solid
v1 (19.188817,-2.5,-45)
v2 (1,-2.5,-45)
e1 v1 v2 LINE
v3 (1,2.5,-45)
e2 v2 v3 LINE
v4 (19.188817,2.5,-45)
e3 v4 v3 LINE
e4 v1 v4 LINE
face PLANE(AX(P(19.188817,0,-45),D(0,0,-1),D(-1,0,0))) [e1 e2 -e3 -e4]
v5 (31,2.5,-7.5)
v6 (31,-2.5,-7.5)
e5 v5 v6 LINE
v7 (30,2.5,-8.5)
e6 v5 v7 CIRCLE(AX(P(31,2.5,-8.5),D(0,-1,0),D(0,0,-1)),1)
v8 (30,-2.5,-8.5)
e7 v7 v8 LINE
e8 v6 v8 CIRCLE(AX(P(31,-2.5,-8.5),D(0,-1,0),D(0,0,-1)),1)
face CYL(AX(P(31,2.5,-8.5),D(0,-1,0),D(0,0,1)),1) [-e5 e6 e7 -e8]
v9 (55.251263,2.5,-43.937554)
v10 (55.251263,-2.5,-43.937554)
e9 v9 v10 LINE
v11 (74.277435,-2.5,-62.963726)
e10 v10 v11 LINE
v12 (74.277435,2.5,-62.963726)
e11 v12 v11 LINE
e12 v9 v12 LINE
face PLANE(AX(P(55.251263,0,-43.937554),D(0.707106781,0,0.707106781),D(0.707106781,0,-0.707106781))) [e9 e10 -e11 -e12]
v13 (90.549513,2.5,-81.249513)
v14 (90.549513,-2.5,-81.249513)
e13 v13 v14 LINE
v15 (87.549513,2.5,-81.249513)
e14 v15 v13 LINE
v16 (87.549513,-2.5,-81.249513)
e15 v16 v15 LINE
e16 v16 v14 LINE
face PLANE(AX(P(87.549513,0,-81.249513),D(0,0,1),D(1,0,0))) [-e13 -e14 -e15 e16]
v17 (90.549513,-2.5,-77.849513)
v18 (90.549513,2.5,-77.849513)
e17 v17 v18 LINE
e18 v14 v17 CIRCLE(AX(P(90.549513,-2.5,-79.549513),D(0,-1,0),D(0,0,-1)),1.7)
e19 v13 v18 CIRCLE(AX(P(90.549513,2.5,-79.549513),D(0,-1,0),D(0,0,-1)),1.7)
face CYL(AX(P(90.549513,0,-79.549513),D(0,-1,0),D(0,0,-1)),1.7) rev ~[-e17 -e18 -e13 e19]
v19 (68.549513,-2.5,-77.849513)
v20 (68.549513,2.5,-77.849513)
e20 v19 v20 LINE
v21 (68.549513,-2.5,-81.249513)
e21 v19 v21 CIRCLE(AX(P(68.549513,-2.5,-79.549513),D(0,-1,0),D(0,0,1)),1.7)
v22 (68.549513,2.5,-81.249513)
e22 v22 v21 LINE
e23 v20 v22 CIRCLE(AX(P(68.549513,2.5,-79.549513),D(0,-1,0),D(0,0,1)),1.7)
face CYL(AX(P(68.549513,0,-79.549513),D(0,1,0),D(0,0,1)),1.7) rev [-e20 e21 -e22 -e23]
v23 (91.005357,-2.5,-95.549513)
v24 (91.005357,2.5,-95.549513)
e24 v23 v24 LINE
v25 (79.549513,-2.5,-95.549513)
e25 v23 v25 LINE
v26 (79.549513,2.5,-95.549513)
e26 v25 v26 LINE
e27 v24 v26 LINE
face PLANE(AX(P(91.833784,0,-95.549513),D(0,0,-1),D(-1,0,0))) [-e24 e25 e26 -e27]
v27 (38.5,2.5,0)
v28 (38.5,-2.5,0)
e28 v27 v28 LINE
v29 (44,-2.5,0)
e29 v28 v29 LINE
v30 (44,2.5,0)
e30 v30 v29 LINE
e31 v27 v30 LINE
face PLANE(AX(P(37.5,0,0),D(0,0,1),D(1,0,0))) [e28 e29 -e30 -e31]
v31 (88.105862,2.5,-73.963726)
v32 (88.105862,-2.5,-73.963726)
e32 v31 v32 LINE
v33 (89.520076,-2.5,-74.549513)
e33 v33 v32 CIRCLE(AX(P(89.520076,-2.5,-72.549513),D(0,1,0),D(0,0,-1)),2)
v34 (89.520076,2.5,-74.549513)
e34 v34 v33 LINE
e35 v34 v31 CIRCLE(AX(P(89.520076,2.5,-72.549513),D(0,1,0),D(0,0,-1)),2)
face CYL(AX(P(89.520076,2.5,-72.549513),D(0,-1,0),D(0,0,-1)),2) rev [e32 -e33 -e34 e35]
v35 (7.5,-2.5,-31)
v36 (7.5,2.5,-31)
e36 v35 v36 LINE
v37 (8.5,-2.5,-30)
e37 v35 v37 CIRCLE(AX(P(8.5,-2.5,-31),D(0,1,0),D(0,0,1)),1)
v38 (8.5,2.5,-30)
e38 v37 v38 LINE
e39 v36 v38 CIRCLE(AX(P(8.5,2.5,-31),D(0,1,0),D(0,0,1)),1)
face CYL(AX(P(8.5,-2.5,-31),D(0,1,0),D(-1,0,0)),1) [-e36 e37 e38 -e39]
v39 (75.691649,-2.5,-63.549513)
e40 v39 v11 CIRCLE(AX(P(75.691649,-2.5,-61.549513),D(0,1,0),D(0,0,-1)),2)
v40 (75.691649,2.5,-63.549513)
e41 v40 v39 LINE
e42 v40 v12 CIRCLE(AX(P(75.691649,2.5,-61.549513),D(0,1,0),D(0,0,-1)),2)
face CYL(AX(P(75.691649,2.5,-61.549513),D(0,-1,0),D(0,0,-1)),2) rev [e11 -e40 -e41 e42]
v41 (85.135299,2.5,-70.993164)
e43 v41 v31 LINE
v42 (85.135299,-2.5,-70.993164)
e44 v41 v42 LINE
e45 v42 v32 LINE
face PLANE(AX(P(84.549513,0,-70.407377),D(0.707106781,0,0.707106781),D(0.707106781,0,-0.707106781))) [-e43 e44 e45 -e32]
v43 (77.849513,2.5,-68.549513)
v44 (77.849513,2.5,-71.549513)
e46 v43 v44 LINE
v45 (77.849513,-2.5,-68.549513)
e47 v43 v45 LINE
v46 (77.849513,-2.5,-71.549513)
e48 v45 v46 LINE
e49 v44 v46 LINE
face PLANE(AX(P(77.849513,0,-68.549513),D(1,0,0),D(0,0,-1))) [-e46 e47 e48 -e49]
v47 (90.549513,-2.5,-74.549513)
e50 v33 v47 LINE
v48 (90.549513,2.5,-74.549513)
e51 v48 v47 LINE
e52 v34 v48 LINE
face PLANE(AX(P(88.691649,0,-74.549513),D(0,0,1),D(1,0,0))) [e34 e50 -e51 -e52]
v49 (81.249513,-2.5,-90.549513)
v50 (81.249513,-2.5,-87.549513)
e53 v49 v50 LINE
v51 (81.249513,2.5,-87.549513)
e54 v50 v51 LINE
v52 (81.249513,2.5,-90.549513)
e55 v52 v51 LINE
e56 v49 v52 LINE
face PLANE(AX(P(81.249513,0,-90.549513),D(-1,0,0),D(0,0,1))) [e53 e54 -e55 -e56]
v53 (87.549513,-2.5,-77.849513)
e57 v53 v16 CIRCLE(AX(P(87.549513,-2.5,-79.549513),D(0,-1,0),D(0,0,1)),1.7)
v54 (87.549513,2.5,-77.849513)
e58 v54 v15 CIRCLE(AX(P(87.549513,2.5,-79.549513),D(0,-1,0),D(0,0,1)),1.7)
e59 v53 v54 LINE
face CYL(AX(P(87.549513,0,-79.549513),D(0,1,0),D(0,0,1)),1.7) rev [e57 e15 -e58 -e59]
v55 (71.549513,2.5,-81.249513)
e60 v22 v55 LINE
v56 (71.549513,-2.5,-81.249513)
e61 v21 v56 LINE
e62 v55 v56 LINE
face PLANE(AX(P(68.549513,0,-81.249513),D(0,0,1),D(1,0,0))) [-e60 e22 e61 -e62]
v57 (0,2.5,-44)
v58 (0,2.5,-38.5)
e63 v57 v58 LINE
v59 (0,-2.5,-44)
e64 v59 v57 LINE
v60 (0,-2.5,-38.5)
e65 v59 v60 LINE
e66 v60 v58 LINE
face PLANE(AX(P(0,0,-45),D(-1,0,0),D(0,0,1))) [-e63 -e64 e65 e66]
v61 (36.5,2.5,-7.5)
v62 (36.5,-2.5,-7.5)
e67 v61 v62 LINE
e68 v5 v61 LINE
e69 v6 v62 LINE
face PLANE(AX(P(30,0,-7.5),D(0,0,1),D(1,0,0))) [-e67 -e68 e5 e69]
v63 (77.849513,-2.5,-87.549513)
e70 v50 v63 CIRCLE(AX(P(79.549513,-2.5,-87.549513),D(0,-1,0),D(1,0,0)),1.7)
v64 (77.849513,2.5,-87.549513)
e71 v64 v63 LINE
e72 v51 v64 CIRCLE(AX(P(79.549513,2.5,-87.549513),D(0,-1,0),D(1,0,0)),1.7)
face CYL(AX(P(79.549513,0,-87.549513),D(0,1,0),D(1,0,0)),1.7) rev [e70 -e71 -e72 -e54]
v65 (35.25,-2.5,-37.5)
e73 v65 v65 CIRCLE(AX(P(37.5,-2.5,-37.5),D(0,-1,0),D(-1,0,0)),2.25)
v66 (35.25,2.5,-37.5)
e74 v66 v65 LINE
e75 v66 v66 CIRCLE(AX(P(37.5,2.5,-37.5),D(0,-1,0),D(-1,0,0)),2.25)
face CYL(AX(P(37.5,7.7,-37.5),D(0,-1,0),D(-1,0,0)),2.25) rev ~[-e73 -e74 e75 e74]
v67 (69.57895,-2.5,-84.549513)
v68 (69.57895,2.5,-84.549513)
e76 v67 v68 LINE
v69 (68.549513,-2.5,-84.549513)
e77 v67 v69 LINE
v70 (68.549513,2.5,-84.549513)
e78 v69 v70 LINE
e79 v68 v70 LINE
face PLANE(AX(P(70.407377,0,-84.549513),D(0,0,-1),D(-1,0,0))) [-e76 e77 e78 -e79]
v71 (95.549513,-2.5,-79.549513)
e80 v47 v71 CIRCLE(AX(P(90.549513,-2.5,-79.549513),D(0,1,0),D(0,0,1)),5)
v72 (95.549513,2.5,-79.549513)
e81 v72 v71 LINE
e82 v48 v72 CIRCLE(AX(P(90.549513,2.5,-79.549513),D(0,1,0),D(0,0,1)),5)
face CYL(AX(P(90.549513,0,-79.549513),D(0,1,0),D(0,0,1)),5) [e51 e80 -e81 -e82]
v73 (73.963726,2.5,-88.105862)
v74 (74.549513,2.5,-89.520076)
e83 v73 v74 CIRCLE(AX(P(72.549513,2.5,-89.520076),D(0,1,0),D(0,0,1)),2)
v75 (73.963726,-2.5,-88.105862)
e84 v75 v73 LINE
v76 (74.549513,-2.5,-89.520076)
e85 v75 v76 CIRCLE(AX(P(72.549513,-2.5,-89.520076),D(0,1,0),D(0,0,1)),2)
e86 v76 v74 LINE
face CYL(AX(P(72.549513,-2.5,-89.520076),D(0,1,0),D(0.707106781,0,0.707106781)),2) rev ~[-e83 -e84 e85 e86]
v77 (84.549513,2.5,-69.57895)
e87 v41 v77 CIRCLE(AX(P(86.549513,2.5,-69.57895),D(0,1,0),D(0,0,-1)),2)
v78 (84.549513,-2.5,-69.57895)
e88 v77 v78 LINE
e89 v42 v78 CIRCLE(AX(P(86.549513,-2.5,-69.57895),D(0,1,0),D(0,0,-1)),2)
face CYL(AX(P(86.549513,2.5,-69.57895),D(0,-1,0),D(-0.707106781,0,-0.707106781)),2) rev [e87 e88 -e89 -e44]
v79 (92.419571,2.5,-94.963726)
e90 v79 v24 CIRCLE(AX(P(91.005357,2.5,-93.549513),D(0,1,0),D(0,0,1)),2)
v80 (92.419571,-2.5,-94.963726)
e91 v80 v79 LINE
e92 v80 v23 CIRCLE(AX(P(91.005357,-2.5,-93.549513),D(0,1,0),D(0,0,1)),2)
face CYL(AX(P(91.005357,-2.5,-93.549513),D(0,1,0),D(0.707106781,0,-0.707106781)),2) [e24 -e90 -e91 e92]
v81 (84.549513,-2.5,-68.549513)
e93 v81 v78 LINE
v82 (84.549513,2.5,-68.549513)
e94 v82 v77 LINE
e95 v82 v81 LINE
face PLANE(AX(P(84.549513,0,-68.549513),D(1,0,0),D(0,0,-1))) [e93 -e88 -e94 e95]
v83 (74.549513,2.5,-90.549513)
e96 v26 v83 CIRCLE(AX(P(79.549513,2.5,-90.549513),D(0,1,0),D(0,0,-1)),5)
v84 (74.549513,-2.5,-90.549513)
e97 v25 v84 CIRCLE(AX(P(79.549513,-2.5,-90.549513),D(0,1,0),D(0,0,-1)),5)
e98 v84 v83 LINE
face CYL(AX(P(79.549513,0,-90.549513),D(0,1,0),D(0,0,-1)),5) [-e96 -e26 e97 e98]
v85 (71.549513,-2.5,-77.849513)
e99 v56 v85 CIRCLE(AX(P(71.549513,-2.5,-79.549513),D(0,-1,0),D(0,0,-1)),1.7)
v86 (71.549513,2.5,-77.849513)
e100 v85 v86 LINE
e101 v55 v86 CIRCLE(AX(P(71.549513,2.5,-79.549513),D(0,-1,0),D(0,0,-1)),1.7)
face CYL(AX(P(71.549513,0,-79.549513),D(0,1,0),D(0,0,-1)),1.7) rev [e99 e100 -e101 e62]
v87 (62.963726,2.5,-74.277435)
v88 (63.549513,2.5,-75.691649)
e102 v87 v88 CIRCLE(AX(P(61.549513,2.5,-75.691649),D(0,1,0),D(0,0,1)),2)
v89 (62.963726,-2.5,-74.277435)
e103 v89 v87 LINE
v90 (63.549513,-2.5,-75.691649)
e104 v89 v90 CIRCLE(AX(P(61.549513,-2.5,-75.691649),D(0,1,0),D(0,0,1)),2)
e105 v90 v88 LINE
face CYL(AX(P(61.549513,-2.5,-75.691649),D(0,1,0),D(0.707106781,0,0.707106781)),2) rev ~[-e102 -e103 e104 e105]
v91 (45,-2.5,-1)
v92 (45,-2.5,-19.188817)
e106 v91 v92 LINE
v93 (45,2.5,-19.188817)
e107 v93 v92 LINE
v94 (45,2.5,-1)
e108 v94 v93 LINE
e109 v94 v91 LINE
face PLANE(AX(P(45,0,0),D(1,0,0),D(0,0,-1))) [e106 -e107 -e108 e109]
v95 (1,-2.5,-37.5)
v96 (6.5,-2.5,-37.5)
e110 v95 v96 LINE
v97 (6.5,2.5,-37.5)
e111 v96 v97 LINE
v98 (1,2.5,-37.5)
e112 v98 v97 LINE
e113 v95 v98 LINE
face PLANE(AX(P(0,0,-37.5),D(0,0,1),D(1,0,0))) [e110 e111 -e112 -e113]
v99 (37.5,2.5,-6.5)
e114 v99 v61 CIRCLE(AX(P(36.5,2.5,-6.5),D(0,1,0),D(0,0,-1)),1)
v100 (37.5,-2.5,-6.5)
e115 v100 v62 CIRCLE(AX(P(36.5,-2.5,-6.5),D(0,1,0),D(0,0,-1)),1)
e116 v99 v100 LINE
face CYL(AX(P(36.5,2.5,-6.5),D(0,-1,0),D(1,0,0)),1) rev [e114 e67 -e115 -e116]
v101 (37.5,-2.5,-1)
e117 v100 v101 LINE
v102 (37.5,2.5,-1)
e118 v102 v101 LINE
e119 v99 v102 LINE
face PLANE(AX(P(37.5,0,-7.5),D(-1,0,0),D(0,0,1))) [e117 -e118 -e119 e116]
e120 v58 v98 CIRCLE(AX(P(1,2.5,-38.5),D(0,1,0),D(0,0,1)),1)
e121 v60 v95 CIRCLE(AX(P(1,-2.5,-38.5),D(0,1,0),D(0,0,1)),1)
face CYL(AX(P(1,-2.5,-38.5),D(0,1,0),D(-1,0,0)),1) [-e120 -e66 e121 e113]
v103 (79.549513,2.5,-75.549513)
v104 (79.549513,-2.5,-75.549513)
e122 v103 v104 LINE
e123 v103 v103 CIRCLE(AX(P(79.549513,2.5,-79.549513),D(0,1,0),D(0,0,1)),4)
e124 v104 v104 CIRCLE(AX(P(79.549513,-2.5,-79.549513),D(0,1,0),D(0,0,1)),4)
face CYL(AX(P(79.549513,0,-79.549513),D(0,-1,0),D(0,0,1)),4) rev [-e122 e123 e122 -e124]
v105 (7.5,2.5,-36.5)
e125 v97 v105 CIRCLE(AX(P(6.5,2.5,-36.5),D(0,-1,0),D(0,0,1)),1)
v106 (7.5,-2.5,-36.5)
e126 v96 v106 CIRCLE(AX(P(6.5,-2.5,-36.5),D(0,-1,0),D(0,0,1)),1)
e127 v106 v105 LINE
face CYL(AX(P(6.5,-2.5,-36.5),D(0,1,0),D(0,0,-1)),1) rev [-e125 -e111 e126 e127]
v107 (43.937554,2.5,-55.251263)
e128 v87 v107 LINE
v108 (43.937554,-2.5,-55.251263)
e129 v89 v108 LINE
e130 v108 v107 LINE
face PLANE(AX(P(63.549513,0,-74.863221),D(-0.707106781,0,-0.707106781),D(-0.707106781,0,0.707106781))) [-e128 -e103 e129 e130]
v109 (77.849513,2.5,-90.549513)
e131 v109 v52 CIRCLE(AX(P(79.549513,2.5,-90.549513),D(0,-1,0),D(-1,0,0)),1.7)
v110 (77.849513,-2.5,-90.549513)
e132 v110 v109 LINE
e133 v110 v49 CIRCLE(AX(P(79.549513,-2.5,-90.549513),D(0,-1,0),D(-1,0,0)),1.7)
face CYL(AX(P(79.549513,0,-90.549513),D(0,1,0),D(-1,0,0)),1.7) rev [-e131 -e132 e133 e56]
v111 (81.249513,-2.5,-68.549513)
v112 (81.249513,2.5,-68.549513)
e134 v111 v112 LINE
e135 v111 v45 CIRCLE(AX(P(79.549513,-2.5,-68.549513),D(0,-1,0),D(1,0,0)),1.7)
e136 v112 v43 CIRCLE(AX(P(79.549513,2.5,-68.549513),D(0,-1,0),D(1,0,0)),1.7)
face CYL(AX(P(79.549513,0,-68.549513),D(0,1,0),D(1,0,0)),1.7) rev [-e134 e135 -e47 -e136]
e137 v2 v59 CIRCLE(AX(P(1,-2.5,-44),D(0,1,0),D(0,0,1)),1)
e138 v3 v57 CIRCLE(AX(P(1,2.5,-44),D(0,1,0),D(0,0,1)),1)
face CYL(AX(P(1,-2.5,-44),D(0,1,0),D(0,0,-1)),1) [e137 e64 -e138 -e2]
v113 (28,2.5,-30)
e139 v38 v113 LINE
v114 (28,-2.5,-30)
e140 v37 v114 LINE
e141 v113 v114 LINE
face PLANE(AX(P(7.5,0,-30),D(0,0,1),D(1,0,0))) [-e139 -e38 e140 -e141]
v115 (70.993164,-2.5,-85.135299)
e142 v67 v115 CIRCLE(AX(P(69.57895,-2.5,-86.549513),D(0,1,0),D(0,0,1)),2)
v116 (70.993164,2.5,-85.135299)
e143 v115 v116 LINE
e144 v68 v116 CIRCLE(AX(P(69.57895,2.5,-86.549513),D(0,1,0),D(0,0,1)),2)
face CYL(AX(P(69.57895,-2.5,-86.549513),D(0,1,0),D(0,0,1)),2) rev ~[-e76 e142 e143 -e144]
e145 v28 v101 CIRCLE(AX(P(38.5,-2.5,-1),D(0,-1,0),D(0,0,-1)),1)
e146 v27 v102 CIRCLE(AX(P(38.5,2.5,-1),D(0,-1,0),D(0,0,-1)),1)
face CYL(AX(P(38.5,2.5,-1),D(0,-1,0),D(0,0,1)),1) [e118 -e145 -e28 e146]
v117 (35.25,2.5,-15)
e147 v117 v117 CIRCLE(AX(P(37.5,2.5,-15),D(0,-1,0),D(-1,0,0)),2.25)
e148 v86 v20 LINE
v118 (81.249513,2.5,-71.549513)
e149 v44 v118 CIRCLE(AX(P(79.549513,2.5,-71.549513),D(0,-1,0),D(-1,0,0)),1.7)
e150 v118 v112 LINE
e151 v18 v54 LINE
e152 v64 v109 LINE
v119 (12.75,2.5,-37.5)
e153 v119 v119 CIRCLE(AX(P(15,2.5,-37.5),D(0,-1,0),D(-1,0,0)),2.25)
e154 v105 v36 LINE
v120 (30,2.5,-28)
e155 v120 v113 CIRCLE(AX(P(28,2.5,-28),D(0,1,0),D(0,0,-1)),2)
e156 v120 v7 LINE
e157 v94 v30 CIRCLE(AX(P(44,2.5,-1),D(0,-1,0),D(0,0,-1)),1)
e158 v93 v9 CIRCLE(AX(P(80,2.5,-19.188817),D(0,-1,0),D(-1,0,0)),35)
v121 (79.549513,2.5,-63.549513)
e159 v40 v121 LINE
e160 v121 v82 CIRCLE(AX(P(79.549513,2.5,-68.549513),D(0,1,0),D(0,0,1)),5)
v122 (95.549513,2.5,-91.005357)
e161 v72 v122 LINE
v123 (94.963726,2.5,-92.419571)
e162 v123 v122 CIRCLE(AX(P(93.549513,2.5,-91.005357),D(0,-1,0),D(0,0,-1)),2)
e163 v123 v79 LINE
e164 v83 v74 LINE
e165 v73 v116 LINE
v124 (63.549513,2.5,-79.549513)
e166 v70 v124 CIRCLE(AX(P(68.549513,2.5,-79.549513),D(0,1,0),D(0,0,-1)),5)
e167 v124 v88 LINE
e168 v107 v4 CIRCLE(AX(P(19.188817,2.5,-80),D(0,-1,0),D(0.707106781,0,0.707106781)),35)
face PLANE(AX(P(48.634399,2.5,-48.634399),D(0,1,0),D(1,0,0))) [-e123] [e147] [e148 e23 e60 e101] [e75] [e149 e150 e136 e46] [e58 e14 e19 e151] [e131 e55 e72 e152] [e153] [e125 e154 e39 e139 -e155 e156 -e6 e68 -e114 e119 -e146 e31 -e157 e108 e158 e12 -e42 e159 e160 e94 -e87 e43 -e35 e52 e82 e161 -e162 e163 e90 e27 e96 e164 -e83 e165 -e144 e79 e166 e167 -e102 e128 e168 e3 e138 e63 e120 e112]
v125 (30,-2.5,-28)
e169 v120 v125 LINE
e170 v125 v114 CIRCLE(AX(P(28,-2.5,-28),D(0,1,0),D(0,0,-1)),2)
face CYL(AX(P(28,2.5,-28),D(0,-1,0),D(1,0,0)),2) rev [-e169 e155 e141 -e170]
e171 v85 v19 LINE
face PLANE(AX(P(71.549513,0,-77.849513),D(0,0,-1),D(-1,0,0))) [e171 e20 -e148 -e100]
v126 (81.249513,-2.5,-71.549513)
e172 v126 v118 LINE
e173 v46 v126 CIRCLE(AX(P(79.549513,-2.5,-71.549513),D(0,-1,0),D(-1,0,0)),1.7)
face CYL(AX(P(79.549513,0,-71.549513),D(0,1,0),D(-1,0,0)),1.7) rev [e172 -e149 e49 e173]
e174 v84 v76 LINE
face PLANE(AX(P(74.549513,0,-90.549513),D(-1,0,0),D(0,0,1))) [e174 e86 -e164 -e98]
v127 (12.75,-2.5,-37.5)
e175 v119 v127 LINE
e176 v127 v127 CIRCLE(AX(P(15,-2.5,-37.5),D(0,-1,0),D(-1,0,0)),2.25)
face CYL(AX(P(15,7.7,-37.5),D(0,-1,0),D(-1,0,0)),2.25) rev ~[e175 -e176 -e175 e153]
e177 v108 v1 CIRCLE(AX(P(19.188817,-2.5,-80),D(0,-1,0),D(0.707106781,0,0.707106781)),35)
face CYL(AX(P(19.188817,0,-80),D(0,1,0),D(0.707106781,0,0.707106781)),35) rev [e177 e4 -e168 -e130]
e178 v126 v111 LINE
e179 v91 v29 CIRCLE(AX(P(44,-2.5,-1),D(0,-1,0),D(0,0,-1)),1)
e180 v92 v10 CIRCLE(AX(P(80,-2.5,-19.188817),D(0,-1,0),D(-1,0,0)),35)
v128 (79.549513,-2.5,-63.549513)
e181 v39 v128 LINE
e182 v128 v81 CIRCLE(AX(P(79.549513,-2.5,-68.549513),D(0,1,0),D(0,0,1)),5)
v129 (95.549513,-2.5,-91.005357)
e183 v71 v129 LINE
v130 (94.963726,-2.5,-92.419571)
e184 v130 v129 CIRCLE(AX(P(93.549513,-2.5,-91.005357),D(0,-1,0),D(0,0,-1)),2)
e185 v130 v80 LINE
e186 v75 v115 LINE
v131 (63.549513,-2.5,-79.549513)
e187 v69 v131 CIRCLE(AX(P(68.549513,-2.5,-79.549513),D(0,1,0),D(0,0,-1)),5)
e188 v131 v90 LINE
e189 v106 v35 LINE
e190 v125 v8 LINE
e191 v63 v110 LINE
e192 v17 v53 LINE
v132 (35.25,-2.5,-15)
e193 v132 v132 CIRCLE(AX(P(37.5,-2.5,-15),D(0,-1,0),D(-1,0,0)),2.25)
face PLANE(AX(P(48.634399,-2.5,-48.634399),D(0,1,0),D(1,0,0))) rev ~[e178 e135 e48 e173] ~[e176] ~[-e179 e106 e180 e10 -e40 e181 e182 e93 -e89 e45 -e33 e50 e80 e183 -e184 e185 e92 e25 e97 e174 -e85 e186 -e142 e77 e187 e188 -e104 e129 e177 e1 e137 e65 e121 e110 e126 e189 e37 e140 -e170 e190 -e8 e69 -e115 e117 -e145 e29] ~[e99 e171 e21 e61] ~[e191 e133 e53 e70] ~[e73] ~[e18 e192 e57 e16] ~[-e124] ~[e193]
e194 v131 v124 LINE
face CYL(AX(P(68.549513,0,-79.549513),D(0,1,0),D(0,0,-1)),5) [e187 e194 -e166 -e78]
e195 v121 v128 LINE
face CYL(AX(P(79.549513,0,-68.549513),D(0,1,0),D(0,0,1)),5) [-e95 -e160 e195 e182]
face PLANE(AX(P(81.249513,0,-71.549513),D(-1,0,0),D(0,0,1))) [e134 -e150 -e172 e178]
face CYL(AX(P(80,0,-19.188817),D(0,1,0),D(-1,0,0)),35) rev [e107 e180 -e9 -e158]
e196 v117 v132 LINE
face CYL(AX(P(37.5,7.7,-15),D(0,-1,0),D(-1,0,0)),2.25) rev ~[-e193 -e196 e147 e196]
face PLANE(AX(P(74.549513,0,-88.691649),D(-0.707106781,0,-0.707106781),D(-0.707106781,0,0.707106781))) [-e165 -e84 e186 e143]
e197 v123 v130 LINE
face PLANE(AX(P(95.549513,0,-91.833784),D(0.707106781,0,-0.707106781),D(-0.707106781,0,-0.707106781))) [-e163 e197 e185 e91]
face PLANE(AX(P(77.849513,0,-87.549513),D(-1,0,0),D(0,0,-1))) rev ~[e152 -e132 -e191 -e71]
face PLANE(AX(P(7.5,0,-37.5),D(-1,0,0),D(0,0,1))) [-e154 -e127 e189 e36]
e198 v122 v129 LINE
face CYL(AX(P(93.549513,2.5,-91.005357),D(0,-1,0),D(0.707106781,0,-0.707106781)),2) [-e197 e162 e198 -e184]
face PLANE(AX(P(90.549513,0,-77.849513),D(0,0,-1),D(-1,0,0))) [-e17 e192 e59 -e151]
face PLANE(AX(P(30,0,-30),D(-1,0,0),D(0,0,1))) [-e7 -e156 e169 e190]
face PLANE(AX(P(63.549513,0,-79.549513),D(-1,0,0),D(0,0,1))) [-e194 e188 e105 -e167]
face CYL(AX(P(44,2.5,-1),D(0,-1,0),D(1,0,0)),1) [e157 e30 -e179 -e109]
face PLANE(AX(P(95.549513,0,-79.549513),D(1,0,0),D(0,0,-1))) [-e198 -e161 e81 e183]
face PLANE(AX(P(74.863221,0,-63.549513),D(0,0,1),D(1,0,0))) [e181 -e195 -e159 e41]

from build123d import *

# Parameters (mm, degrees)
SKETCH1_R                = 4
BOSS_EXTRUDE1_DEPTH      = 2.5
FILLET1_R                = 2
FILLET2_R                = 1
M4_CLEARANCE_HOLE1_D     = 4.5
M4_CLEARANCE_HOLE1_DEPTH = 5.2
M4_CLEARANCE_HOLE1_TIP   = 1.351936393


with BuildPart() as part:
    # Sketch1 → Boss-Extrude1 (new, symmetric)
    with BuildSketch(Plane(origin=(0, 0, 0), x_dir=(1, 0, 0), z_dir=(0, 1, 0))):
        with BuildLine():
            Line((95.549512883, 91.833784131), (91.833784131, 95.549512883))
            Line((91.833784131, 95.549512883), (79.549512883, 95.549512883))
            ThreePointArc((79.549512883, 95.549512883), (76.013978978, 94.085046789), (74.549512883, 90.549512883))
            Line((74.549512883, 90.549512883), (74.549512883, 88.691648507))
            Line((74.549512883, 88.691648507), (70.40737726, 84.549512883))
            Line((70.40737726, 84.549512883), (68.549512883, 84.549512883))
            ThreePointArc((68.549512883, 84.549512883), (65.013978978, 83.085046789), (63.549512883, 79.549512883))
            Line((63.549512883, 79.549512883), (63.549512883, 74.863221382))
            Line((63.549512883, 74.863221382), (43.937554159, 55.251262658))
            ThreePointArc((43.937554159, 55.251262658), (32.582736951, 47.664216362), (19.188816818, 45))
            Line((19.188816818, 45), (0, 45))
            Line((0, 45), (0, 37.5))
            Line((0, 37.5), (7.5, 37.5))
            Line((7.5, 37.5), (7.5, 30))
            Line((7.5, 30), (30, 30))
            Line((30, 30), (30, 7.5))
            Line((30, 7.5), (37.5, 7.5))
            Line((37.5, 7.5), (37.5, 0))
            Line((37.5, 0), (45, 0))
            Line((45, 0), (45, 19.188816818))
            ThreePointArc((45, 19.188816818), (47.664216362, 32.582736951), (55.251262658, 43.937554159))
            Line((55.251262658, 43.937554159), (74.863221382, 63.549512883))
            Line((74.863221382, 63.549512883), (79.549512883, 63.549512883))
            ThreePointArc((79.549512883, 63.549512883), (83.085046789, 65.013978978), (84.549512883, 68.549512883))
            Line((84.549512883, 68.549512883), (84.549512883, 70.40737726))
            Line((84.549512883, 70.40737726), (88.691648507, 74.549512883))
            Line((88.691648507, 74.549512883), (90.549512883, 74.549512883))
            ThreePointArc((90.549512883, 74.549512883), (94.085046789, 76.013978978), (95.549512883, 79.549512883))
            Line((95.549512883, 79.549512883), (95.549512883, 91.833784131))
        make_face()
        with Locations(Location((79.549512883, 79.549512883, 0), (0, 0, 270))):
            Circle(SKETCH1_R, mode=Mode.SUBTRACT)
        with BuildLine():
            Line((87.549512883, 81.249512883), (90.549512883, 81.249512883))
            ThreePointArc((90.549512883, 81.249512883), (92.249512883, 79.549512883), (90.549512883, 77.849512883))
            Line((90.549512883, 77.849512883), (87.549512883, 77.849512883))
            ThreePointArc((87.549512883, 77.849512883), (85.849512883, 79.549512883), (87.549512883, 81.249512883))
        make_face(mode=Mode.SUBTRACT)
        with BuildLine():
            Line((81.249512883, 71.549512883), (81.249512883, 68.549512883))
            ThreePointArc((81.249512883, 68.549512883), (79.549512883, 66.849512883), (77.849512883, 68.549512883))
            Line((77.849512883, 68.549512883), (77.849512883, 71.549512883))
            ThreePointArc((77.849512883, 71.549512883), (79.549512883, 73.249512883), (81.249512883, 71.549512883))
        make_face(mode=Mode.SUBTRACT)
        with BuildLine():
            Line((71.549512883, 77.849512883), (68.549512883, 77.849512883))
            ThreePointArc((68.549512883, 77.849512883), (66.849512883, 79.549512883), (68.549512883, 81.249512883))
            Line((68.549512883, 81.249512883), (71.549512883, 81.249512883))
            ThreePointArc((71.549512883, 81.249512883), (73.249512883, 79.549512883), (71.549512883, 77.849512883))
        make_face(mode=Mode.SUBTRACT)
        with BuildLine():
            Line((77.849512883, 87.549512883), (77.849512883, 90.549512883))
            ThreePointArc((77.849512883, 90.549512883), (79.549512883, 92.249512883), (81.249512883, 90.549512883))
            Line((81.249512883, 90.549512883), (81.249512883, 87.549512883))
            ThreePointArc((81.249512883, 87.549512883), (79.549512883, 85.849512883), (77.849512883, 87.549512883))
        make_face(mode=Mode.SUBTRACT)
    extrude(amount=BOSS_EXTRUDE1_DEPTH, both=True)

    # Fillet1
    fillet1_edges = [part.edges().sort_by_distance(p)[0] for p in [
        (91.833784131, 0, -95.549512883),
        (95.549512883, 0, -91.833784131),
        (88.691648507, 0, -74.549512883),
        (84.549512883, 0, -70.40737726),
        (74.863221382, 0, -63.549512883),
        (30, 0, -30),
        (63.549512883, 0, -74.863221382),
        (70.40737726, 0, -84.549512883),
        (74.549512883, 0, -88.691648507),
    ]]
    fillet(fillet1_edges, radius=FILLET1_R)

    # Fillet2
    fillet2_edges = [part.edges().sort_by_distance(p)[0] for p in [
        (45, 0, 0),
        (37.5, 0, 0),
        (37.5, 0, -7.5),
        (30, 0, -7.5),
        (7.5, 0, -30),
        (7.5, 0, -37.5),
        (0, 0, -37.5),
        (0, 0, -45),
    ]]
    fillet(fillet2_edges, radius=FILLET2_R)

    # M4 Clearance Hole1
    with Locations(Plane(origin=(0, 2.5, 0), x_dir=(1, 0, 0), z_dir=(0, 1, 0))):
        with Locations((15, 37.5), (37.5, 15), (37.5, 37.5)):
            Hole(M4_CLEARANCE_HOLE1_D / 2, depth=M4_CLEARANCE_HOLE1_DEPTH)
            with Locations((0, 0, -(M4_CLEARANCE_HOLE1_DEPTH + M4_CLEARANCE_HOLE1_TIP / 2))):  # 118° drill point
                Cone(0, M4_CLEARANCE_HOLE1_D / 2, M4_CLEARANCE_HOLE1_TIP, mode=Mode.SUBTRACT)


solid = part.part
